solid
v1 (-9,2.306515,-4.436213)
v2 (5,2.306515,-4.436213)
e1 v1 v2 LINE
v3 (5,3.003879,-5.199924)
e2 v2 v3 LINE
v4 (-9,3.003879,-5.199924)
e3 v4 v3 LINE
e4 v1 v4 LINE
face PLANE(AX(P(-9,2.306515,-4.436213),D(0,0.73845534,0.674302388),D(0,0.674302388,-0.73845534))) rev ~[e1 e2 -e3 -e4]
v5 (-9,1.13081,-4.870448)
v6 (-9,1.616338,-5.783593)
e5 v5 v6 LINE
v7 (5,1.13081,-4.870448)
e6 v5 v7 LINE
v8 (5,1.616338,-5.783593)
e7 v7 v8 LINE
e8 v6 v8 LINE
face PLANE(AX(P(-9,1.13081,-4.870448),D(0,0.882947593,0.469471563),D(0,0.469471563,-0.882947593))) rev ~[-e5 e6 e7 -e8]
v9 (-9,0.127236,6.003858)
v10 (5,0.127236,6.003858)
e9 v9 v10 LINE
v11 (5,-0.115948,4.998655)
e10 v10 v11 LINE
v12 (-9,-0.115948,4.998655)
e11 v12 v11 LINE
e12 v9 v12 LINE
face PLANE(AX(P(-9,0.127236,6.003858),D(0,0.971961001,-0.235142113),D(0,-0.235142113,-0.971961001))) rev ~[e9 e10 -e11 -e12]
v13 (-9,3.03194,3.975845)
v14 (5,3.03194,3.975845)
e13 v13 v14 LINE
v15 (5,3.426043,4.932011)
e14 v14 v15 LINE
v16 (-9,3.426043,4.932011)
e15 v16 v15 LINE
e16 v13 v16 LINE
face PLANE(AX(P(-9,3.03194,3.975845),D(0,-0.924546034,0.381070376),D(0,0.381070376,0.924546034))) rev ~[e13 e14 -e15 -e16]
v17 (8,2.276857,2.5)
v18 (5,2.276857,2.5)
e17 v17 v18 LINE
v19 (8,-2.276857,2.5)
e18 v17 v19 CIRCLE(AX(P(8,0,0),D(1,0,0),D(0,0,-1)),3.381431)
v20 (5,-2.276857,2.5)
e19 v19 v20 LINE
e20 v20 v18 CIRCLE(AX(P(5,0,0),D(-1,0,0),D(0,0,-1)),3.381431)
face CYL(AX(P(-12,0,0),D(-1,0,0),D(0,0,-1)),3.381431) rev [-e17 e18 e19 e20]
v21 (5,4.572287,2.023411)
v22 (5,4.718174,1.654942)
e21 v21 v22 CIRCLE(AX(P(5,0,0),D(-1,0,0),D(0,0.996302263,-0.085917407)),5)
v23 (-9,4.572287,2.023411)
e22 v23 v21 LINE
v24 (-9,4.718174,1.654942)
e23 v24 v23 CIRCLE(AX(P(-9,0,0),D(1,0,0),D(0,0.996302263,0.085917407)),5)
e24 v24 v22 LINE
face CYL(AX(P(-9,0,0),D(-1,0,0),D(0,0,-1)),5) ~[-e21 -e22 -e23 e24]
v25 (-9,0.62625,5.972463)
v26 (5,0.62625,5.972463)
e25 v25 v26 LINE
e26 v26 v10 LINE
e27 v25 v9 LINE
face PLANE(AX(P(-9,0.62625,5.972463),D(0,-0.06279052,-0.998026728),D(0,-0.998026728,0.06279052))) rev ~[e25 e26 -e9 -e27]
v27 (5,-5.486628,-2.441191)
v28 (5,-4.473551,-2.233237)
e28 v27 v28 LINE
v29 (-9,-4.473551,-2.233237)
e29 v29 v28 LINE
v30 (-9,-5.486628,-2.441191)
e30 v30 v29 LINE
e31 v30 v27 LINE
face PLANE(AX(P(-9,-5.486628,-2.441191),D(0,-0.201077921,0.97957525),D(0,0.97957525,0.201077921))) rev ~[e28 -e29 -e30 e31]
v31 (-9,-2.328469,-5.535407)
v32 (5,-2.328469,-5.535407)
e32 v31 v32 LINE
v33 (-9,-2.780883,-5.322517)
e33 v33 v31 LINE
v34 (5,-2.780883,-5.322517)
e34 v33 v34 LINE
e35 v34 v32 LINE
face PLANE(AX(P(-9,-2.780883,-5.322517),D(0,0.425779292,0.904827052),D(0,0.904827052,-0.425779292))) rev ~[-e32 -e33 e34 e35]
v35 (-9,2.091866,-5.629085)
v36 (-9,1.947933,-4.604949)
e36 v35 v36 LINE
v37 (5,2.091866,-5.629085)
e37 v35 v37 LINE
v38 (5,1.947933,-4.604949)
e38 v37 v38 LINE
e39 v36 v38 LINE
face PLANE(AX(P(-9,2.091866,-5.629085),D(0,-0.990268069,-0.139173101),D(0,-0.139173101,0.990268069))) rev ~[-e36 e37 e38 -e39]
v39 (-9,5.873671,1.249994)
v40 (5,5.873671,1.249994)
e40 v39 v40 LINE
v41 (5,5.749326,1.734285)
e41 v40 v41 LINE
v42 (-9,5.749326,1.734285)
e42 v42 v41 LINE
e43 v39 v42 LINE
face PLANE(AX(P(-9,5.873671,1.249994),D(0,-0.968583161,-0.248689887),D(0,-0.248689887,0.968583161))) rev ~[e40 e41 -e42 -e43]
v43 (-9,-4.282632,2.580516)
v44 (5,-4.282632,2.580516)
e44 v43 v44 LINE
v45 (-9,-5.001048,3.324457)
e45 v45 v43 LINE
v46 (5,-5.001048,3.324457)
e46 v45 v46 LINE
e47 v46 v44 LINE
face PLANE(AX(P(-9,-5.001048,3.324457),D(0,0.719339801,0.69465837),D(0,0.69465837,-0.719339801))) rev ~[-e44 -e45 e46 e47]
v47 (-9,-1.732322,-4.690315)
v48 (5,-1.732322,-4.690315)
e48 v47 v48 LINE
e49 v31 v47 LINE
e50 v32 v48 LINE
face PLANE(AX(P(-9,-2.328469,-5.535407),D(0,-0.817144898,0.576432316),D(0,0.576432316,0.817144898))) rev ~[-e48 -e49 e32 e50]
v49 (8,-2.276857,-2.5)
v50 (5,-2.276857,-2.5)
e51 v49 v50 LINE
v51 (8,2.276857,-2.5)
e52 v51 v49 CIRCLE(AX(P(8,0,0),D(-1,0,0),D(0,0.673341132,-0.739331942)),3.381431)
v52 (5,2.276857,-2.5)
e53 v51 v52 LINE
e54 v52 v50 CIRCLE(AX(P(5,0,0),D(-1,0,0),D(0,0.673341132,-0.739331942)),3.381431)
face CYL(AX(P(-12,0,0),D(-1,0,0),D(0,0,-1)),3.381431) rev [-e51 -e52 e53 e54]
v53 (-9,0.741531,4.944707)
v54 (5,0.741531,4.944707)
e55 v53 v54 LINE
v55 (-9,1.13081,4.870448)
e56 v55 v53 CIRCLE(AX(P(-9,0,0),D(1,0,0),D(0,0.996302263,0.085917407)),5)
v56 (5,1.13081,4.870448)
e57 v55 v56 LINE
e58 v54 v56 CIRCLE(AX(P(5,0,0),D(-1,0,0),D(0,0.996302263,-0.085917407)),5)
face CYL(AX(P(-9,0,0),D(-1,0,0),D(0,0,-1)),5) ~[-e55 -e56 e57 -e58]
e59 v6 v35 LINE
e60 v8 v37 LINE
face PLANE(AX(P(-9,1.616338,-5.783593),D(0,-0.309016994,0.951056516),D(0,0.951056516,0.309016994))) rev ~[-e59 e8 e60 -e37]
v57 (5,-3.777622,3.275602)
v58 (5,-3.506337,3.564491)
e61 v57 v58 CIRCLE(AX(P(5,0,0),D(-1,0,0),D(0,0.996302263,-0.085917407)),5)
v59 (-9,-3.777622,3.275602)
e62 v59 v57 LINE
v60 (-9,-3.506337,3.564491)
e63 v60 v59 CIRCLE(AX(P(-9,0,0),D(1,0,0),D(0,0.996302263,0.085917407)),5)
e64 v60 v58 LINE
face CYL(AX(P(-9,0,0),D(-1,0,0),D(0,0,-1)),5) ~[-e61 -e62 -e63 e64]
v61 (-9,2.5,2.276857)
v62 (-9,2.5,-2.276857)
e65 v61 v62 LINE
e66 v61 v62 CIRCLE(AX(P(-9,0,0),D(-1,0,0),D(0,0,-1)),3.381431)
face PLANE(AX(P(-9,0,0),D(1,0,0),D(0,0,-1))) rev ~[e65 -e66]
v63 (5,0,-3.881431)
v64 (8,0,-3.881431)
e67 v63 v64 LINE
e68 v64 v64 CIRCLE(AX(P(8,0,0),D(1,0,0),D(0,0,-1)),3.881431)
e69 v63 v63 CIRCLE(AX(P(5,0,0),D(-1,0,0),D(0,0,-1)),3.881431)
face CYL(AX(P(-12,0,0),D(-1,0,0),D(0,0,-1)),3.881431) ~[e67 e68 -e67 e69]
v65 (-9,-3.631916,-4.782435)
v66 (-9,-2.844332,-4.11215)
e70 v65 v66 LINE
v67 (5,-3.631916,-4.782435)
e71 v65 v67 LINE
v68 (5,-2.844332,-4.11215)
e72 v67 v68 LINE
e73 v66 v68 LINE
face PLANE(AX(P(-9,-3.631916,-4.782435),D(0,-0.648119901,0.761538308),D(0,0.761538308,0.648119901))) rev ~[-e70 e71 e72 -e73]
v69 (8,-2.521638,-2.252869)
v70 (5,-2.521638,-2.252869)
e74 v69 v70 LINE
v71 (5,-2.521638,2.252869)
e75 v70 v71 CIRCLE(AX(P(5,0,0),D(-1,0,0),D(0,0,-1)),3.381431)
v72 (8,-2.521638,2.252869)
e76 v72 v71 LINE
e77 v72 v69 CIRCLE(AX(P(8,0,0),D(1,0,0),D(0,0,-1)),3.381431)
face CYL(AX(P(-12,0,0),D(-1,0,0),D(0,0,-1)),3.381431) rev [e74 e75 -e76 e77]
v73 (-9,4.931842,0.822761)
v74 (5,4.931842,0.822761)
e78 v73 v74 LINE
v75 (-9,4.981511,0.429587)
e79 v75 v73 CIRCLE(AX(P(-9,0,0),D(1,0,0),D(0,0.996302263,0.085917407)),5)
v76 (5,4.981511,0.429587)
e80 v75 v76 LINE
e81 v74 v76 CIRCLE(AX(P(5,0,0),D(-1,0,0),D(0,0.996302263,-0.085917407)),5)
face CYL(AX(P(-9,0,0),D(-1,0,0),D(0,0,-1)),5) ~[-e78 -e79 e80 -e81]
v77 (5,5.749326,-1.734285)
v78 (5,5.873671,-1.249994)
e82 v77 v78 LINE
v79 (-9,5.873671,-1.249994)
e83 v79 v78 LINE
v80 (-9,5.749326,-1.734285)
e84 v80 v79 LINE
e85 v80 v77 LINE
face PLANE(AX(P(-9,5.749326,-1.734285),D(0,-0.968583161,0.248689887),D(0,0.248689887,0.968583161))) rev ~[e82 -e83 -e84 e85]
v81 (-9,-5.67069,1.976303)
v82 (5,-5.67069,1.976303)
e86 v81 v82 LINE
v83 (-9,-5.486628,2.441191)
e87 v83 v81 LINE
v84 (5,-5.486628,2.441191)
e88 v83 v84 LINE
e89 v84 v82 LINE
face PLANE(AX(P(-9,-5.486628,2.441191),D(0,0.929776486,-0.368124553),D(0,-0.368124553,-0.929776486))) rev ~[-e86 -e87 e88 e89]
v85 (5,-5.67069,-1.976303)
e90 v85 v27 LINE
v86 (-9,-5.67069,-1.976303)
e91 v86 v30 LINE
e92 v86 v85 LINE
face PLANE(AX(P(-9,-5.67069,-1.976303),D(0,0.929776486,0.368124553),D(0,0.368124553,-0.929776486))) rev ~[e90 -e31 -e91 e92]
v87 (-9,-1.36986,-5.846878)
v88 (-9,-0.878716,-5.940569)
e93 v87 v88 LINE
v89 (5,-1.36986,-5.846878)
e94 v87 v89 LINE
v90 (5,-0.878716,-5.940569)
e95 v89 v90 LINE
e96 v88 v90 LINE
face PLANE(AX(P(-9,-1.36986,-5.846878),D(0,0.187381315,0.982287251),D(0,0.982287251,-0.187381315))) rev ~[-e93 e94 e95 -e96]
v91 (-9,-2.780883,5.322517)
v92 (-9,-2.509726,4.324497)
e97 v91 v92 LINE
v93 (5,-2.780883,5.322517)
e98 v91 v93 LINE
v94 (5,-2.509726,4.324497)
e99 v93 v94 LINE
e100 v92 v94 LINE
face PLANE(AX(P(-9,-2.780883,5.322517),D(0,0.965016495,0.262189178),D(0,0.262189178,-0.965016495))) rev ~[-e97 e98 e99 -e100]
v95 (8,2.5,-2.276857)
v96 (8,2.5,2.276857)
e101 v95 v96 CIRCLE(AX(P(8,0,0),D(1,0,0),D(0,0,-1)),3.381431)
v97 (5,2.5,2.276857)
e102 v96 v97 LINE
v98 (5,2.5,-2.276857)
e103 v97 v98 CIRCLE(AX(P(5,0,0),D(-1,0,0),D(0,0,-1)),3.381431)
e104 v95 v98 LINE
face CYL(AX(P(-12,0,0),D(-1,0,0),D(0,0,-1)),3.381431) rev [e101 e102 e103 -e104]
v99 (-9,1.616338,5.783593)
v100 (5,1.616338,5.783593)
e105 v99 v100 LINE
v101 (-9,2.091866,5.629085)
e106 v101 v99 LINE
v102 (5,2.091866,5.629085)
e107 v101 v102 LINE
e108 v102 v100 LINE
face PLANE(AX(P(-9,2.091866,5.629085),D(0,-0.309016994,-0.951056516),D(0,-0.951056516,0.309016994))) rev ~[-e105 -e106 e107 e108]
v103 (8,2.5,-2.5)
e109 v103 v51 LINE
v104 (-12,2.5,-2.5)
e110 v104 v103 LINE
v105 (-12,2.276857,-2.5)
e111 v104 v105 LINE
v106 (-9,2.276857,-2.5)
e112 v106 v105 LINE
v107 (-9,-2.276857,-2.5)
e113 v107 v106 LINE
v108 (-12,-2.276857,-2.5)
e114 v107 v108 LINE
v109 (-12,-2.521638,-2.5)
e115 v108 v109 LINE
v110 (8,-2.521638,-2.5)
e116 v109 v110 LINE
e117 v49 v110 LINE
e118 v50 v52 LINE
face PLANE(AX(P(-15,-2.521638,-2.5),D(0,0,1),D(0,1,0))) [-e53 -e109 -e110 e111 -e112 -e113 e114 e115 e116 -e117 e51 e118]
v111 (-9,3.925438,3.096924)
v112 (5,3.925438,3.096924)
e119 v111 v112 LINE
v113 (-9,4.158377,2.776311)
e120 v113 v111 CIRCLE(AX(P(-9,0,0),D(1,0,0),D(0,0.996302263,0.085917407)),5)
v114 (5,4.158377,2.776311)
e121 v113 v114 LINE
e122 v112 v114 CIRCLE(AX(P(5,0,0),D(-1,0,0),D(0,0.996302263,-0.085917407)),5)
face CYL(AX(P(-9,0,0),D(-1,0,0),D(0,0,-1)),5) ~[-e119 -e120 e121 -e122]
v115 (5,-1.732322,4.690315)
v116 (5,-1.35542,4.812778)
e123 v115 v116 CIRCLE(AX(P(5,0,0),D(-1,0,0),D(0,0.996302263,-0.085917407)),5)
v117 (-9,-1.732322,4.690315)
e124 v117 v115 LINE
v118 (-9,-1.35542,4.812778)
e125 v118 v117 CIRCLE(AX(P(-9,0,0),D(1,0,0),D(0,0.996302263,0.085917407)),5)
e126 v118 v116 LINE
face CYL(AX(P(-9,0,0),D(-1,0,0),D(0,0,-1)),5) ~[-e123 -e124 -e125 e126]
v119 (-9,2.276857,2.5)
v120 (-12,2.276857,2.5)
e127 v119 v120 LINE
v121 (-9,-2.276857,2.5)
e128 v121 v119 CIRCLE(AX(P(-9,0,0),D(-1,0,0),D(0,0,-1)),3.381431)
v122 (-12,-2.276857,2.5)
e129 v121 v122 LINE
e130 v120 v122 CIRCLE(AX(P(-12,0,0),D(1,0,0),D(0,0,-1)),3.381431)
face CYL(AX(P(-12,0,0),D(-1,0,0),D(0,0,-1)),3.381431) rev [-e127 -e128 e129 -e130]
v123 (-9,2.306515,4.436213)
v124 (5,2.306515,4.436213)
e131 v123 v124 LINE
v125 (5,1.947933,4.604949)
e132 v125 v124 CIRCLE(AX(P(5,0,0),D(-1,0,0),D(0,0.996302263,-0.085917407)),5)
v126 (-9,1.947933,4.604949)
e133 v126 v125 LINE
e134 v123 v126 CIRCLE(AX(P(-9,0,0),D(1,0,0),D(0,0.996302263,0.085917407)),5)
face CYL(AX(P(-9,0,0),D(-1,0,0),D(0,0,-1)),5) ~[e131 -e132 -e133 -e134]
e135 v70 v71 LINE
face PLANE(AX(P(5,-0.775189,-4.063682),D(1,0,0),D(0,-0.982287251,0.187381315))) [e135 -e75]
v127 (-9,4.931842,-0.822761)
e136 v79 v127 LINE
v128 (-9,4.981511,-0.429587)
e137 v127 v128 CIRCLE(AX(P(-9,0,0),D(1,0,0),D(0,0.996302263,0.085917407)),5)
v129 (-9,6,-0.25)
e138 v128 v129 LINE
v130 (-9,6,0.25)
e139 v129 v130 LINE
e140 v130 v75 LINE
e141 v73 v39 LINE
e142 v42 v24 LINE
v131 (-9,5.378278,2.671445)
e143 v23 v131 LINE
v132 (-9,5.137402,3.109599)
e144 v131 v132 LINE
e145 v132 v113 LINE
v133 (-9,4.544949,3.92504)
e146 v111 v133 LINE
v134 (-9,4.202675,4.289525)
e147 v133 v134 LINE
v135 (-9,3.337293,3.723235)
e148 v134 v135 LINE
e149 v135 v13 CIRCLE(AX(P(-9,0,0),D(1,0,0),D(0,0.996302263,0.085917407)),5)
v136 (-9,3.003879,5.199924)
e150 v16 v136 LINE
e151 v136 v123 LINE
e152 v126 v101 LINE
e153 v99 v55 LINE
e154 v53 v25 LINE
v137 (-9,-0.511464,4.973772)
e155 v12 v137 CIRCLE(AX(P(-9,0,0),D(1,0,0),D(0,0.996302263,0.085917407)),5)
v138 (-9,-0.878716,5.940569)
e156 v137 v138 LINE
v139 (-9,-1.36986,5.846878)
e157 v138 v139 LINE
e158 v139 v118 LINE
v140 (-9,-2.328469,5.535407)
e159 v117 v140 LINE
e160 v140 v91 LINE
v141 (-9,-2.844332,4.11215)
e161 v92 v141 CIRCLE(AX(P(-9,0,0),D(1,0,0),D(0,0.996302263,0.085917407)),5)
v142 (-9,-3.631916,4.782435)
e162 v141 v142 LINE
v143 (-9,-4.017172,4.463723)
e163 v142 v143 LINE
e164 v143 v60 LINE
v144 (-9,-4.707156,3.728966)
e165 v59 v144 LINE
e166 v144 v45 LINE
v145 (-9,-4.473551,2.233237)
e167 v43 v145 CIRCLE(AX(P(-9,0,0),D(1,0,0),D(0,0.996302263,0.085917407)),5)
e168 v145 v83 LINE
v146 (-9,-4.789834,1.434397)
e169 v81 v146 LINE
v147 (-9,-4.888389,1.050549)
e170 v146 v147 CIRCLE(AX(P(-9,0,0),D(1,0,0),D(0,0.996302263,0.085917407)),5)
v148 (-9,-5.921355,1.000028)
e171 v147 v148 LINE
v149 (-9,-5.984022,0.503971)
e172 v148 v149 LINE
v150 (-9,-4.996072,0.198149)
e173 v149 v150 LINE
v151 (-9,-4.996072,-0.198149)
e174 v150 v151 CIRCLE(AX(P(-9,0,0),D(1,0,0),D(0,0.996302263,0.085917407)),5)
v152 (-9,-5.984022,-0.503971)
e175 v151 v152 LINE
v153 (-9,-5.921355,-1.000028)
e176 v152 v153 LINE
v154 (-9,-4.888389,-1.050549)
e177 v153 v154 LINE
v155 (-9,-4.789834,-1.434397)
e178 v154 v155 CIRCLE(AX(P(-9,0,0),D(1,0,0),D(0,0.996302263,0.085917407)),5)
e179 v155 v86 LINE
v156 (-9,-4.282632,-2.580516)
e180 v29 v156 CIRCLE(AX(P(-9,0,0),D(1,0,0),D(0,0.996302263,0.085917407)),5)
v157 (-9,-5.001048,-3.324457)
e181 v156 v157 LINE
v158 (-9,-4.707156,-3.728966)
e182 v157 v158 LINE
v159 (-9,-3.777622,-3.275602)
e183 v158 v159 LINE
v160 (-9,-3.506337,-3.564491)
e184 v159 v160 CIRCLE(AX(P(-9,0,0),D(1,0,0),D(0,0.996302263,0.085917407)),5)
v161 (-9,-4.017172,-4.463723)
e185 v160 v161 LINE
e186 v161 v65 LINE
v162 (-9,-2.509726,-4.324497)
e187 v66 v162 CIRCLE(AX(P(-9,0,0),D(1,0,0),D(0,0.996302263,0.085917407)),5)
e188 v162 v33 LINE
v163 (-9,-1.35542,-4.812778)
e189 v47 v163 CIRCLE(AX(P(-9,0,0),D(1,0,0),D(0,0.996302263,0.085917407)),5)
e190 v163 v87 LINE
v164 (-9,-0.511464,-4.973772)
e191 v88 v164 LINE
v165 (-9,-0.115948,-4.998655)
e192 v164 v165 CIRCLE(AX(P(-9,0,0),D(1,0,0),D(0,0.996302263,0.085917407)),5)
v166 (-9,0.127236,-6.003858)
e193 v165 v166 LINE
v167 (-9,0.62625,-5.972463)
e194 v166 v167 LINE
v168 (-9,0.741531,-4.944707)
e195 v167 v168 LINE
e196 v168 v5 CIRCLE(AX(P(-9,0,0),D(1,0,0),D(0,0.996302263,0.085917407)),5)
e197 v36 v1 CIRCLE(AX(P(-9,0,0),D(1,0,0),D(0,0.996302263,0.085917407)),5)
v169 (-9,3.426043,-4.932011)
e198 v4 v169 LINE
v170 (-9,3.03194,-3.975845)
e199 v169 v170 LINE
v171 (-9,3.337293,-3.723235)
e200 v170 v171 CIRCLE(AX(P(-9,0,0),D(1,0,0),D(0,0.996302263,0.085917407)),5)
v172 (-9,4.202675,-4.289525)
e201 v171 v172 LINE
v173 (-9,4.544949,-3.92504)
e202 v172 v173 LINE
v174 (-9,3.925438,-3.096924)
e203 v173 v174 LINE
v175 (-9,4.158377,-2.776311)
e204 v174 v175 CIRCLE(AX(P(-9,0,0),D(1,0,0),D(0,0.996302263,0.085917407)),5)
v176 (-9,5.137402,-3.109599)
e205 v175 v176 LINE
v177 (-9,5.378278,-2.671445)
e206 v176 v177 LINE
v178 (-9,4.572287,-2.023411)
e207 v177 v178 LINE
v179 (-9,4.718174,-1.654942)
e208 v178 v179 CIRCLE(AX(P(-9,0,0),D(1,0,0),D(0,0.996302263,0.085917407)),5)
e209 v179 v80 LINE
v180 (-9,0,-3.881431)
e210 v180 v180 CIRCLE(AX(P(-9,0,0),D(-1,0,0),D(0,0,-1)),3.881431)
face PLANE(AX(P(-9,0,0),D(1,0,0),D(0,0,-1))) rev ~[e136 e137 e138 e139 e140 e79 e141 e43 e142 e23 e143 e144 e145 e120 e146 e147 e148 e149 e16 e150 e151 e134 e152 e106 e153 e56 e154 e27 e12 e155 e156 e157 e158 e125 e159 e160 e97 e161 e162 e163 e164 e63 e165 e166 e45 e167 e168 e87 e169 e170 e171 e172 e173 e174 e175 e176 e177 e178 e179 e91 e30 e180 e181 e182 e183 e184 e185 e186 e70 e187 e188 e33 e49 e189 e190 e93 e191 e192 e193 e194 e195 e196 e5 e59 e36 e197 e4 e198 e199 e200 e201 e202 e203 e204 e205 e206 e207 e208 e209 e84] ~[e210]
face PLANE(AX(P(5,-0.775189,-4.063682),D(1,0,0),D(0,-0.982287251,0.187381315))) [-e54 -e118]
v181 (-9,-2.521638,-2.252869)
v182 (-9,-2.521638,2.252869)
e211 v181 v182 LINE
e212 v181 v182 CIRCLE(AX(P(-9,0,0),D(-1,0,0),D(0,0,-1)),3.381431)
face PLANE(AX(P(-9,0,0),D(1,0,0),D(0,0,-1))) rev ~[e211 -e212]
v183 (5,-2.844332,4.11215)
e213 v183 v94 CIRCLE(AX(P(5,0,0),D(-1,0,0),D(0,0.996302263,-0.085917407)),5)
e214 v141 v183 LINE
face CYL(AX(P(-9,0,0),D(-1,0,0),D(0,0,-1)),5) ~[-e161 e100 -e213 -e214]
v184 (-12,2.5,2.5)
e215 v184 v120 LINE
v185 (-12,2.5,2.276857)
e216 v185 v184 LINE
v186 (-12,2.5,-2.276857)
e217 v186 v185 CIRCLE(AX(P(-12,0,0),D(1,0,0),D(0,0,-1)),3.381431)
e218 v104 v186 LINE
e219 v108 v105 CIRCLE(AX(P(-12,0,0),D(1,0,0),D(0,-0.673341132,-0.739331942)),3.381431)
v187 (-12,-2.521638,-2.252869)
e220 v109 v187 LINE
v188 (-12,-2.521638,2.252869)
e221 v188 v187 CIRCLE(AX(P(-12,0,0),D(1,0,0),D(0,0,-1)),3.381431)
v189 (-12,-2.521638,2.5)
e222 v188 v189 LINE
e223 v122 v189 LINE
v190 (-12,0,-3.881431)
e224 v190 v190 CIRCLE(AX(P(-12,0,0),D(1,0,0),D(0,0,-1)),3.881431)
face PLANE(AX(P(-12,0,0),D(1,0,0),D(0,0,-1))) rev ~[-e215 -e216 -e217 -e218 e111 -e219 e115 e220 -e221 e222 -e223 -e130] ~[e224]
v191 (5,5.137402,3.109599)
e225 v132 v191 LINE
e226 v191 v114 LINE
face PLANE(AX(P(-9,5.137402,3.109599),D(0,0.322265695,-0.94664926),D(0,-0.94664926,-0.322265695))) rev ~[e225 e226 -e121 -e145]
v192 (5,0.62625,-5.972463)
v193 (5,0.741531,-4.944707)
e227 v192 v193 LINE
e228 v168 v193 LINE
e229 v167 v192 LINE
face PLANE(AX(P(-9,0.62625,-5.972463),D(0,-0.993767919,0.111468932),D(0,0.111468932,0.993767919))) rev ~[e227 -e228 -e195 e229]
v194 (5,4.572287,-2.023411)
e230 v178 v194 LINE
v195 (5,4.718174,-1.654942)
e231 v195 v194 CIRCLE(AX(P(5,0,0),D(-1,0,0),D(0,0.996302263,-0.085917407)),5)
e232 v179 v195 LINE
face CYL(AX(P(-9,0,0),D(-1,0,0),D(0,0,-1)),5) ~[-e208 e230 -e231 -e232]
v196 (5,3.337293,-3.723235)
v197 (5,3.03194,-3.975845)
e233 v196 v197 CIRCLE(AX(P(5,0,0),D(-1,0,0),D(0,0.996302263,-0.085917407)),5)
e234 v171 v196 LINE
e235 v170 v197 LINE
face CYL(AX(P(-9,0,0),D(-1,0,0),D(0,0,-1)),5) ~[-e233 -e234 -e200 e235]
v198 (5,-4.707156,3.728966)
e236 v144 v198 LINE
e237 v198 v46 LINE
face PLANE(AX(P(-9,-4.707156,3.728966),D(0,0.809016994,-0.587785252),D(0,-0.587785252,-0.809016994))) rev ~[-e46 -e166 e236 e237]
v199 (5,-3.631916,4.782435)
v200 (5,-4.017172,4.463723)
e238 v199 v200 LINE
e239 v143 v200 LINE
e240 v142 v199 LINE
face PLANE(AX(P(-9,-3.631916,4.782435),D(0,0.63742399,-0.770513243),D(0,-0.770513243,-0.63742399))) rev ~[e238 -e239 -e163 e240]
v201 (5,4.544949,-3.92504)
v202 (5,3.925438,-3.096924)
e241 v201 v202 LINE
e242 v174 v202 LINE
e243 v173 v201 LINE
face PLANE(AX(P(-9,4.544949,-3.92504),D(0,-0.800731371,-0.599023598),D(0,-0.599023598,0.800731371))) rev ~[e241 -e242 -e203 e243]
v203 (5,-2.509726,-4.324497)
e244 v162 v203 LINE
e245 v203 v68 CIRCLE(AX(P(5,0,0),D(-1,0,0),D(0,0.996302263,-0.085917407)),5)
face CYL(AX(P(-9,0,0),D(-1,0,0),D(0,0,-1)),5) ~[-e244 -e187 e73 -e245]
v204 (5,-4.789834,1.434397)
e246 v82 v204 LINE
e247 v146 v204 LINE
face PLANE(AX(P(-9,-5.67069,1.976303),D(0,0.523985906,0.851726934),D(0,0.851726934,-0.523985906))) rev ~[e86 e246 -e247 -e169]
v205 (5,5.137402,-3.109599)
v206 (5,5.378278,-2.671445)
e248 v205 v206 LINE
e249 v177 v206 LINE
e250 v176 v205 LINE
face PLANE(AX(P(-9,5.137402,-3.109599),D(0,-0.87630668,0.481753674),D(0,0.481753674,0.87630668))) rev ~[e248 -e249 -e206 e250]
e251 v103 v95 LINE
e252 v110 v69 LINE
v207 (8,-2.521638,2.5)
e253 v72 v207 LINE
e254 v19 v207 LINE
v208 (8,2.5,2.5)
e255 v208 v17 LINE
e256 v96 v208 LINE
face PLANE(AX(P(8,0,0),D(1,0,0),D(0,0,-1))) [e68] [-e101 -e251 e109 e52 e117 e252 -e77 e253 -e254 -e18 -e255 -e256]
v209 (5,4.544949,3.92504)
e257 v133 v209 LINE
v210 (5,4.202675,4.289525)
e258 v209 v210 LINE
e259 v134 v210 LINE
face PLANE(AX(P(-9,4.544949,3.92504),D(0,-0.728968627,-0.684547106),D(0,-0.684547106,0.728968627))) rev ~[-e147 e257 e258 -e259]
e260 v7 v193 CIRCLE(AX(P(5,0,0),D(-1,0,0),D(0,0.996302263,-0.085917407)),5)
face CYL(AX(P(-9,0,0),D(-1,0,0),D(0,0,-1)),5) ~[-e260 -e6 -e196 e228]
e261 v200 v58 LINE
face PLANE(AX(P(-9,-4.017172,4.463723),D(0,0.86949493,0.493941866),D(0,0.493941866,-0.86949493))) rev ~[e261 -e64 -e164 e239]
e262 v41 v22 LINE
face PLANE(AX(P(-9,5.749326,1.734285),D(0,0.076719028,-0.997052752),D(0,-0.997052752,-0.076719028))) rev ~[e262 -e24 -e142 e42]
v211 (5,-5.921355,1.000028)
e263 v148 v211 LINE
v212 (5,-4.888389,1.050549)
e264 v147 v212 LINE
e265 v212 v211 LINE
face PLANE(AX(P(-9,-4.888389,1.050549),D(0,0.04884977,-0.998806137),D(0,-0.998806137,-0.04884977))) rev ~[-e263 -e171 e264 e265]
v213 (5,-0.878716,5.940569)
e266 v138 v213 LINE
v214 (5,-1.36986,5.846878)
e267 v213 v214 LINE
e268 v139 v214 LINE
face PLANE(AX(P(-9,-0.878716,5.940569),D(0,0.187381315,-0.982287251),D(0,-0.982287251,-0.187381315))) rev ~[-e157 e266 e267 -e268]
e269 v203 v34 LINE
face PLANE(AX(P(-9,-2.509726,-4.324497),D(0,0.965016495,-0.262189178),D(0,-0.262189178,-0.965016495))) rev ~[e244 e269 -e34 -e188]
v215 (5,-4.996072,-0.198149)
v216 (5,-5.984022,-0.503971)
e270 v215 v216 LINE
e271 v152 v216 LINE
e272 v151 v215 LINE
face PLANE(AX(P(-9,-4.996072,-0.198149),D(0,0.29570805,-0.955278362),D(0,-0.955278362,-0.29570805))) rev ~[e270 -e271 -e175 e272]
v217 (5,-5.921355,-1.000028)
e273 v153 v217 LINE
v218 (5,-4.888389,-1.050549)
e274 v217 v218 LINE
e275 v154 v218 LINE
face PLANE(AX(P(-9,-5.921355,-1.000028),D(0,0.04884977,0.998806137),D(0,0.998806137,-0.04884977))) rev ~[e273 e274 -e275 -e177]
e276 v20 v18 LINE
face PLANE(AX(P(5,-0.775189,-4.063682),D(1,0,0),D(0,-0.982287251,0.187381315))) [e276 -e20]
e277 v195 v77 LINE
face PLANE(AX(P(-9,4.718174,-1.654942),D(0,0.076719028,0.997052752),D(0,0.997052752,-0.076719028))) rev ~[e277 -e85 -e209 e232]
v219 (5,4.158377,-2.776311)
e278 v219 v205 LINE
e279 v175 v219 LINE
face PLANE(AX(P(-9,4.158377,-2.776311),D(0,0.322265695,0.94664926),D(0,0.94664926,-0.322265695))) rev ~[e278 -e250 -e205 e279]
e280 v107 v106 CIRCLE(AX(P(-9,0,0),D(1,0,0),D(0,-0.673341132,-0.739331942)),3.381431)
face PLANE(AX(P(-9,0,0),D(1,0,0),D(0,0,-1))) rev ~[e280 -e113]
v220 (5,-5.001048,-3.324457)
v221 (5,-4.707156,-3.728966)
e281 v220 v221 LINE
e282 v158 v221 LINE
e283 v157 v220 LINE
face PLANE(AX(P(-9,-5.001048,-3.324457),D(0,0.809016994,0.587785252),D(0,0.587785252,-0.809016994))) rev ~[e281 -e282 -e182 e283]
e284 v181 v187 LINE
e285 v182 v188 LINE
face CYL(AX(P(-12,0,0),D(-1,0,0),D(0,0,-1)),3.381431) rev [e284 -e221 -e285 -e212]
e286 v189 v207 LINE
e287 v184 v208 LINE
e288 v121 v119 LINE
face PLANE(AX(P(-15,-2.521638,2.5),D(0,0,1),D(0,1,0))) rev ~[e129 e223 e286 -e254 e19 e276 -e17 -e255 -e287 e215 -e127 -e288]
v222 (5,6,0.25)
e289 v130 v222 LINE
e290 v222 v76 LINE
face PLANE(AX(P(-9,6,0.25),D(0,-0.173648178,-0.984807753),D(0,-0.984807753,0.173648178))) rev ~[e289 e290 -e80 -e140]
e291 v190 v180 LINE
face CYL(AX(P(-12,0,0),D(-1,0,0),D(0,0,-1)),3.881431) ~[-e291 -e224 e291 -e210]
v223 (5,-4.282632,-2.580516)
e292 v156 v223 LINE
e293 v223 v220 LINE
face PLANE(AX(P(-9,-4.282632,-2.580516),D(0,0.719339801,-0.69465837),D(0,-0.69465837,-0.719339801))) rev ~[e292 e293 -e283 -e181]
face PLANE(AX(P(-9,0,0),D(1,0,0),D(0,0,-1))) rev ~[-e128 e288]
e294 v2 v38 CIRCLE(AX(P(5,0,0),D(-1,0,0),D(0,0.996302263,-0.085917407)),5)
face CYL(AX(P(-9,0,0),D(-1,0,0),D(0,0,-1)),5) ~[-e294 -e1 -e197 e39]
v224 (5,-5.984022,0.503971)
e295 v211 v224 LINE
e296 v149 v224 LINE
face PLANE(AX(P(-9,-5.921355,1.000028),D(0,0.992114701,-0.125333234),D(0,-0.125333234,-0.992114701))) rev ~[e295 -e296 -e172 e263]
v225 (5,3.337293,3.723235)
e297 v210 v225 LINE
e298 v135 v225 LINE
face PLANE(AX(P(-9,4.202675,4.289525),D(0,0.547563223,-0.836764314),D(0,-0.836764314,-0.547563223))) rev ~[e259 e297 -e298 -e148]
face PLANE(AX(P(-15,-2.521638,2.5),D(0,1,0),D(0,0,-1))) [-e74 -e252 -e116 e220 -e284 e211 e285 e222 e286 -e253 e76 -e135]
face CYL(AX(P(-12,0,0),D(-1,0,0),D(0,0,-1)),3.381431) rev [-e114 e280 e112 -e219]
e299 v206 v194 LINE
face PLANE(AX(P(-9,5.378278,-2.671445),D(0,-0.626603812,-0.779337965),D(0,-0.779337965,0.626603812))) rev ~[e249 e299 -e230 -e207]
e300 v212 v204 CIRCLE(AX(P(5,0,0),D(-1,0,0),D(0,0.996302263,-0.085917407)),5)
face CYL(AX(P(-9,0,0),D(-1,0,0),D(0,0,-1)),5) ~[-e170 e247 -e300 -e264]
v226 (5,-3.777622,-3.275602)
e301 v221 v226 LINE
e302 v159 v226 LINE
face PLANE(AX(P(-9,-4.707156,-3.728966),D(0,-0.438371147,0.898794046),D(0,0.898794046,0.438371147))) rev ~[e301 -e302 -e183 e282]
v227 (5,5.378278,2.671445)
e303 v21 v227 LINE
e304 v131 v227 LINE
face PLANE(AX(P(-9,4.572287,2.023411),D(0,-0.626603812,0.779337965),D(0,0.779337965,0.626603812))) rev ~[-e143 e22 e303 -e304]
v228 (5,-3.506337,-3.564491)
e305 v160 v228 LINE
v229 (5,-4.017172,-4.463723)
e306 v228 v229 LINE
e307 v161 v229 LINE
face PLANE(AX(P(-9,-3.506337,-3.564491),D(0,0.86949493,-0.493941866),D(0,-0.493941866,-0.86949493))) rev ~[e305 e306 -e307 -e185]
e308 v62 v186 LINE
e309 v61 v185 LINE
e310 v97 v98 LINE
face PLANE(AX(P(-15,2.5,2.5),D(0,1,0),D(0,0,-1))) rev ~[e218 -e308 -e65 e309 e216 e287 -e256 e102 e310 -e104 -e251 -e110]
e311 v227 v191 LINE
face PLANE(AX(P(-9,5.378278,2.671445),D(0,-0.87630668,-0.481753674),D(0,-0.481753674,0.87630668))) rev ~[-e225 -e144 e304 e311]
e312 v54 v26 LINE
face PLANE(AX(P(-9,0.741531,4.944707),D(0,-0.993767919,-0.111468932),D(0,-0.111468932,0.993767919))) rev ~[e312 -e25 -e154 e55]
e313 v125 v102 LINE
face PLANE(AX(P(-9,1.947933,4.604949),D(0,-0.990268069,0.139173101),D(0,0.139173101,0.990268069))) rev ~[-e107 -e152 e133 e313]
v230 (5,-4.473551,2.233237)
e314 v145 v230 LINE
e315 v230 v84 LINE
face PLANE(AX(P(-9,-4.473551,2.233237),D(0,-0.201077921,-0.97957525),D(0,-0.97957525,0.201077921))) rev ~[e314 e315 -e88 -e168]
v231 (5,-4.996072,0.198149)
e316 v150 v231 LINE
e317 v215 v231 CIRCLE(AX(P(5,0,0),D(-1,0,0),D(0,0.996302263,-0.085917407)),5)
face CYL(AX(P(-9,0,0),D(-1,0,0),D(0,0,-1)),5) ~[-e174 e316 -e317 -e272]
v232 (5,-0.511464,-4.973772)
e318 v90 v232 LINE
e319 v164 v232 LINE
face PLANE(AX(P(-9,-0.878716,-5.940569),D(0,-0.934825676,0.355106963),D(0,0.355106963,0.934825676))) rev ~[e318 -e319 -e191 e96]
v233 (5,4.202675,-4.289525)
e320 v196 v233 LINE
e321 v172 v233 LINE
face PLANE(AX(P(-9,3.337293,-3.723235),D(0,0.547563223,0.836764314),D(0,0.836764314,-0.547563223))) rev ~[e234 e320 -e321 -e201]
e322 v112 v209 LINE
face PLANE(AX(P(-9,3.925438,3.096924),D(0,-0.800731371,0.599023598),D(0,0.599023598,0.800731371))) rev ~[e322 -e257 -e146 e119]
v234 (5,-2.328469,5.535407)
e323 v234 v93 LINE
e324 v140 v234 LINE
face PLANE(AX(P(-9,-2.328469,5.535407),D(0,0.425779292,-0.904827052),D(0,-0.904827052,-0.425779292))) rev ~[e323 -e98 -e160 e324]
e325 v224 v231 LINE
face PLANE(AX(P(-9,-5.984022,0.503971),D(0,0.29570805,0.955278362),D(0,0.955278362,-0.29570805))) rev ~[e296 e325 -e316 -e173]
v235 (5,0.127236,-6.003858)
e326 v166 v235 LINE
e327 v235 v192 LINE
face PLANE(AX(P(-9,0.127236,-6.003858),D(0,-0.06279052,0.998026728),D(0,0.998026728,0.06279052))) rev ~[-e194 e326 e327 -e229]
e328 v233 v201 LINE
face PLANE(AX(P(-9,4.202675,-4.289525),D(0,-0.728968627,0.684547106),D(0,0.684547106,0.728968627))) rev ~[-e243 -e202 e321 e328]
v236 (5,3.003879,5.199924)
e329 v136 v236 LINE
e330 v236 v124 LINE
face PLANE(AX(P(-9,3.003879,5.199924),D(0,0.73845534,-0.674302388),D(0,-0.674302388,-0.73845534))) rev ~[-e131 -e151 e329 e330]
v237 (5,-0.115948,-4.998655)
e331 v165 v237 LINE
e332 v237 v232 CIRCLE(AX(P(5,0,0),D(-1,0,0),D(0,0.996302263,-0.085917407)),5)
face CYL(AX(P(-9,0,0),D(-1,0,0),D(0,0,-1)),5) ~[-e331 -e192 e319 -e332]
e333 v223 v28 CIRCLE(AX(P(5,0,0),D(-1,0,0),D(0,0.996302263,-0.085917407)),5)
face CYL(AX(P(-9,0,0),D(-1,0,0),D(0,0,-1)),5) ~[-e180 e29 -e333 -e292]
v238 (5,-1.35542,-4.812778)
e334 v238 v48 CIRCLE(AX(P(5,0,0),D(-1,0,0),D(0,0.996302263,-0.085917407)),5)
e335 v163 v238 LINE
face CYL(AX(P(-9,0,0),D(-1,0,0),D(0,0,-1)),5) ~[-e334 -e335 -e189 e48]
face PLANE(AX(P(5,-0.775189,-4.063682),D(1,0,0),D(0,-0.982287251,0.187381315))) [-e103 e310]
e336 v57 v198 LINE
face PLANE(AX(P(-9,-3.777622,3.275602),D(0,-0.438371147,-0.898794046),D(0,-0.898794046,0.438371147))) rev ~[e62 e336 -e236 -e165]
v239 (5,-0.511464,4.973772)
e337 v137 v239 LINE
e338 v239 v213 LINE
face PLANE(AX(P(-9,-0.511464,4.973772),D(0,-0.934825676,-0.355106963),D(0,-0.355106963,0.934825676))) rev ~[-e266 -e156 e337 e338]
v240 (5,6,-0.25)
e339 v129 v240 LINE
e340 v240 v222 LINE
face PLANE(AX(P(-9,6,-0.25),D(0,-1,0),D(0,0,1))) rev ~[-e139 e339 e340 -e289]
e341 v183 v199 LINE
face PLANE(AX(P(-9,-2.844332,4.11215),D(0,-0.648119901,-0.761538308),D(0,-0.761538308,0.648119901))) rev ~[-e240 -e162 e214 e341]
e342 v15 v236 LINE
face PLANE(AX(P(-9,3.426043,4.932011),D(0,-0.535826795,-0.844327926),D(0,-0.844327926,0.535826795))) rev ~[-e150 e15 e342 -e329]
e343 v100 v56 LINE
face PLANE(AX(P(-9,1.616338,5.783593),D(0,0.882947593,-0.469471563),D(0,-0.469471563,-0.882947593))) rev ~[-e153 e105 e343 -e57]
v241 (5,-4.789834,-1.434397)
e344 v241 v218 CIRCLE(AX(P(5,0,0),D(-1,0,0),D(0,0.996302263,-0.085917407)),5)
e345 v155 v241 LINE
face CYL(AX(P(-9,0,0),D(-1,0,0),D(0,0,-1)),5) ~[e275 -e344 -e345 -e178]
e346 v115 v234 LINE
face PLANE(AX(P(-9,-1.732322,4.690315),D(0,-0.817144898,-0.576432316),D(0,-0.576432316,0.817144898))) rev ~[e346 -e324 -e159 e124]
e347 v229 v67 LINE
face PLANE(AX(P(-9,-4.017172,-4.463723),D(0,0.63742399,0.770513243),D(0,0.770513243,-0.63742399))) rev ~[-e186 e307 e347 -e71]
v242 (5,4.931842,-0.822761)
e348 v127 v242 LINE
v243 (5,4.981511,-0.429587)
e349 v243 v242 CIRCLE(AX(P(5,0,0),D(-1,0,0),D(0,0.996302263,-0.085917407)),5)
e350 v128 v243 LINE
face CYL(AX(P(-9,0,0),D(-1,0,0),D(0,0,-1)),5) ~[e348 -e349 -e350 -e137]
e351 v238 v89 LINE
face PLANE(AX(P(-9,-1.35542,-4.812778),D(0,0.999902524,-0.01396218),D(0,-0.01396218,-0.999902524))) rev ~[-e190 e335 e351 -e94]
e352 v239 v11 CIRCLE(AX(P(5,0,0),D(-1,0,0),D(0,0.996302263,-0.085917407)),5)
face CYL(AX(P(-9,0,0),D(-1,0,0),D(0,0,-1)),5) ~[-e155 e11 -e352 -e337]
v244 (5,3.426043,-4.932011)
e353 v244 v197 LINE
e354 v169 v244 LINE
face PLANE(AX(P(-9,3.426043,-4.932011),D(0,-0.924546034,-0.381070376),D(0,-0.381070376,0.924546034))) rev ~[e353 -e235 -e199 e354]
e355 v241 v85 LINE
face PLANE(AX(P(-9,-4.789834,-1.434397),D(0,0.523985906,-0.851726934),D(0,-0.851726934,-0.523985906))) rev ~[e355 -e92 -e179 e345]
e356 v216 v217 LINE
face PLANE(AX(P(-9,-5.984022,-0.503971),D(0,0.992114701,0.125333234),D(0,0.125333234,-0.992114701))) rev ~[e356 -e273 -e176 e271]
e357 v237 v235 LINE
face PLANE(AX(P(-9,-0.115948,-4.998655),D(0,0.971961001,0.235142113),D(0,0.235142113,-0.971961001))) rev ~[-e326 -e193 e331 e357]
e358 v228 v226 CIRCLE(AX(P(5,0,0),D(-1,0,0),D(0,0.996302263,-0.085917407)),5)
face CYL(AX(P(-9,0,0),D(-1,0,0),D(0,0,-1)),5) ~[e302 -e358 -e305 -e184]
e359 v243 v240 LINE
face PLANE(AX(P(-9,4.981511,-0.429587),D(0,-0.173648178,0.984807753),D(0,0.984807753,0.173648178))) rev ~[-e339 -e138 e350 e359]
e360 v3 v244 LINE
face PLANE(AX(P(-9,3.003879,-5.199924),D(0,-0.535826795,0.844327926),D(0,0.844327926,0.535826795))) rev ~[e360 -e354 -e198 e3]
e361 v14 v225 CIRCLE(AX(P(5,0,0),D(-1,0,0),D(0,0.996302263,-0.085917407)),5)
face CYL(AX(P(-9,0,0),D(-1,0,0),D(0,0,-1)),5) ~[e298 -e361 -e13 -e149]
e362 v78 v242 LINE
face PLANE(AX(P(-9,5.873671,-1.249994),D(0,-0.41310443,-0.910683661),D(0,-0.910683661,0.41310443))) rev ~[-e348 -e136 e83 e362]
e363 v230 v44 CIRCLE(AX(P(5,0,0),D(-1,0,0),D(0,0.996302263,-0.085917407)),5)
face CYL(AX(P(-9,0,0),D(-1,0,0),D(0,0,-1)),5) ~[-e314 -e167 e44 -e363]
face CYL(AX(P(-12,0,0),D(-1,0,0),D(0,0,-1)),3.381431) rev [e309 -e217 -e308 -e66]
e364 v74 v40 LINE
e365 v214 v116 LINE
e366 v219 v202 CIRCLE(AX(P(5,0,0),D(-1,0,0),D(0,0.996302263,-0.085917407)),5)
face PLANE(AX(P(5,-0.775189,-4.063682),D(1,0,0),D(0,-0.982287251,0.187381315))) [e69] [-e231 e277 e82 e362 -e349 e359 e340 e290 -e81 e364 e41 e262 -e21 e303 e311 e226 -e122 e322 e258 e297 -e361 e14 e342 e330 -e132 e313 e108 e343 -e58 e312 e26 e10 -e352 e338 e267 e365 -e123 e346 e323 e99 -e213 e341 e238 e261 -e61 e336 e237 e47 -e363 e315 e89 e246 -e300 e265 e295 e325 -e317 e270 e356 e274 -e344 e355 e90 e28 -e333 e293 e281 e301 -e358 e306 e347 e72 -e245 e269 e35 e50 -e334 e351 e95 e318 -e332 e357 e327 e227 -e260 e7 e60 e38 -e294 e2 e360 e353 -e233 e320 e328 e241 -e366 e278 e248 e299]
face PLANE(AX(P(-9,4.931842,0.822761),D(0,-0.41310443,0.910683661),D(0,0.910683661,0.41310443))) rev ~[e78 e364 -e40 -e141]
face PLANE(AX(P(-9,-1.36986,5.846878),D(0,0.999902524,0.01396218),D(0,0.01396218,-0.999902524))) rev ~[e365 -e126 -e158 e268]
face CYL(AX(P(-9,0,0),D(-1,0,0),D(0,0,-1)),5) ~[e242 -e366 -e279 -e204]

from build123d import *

# Parameters (mm, degrees)
BOSS_EXTRUDE2_START      = -9
BOSS_EXTRUDE2_DEPTH      = 14
BOSS_EXTRUDE3_DEPTH      = 5
BOSS_EXTRUDE3_DEPTH_BACK = 9
SKETCH3_R                = 5
CIRPATTERN1_COUNT        = 25
SKETCH4_W                = 5
SKETCH4_H                = 5
CUT_EXTRUDE1_DEPTH       = 18
BOSS_EXTRUDE4_DEPTH      = 3
BOSS_EXTRUDE4_DEPTH_BACK = 17
SKETCH6_R                = 3.881431072
SKETCH6_R_2              = 3.381431072
CUT_EXTRUDE2_DEPTH       = 10
CUT_EXTRUDE2_DEPTH_BACK  = 20
SKETCH7_W                = 5
SKETCH7_H                = 5.021637953


with BuildPart() as part:
    # Sketch2 → Boss-Extrude2 (new body)
    with BuildSketch(Plane(origin=(0, 0, 0), x_dir=(0, 0, -1), z_dir=(1, 0, 0)).offset(BOSS_EXTRUDE2_START)):
        with BuildLine():
            ThreePointArc((0.429587035, 4.981511315), (0, 5), (-0.429587035, 4.981511315))
            Line((-0.429587035, 4.981511315), (-0.700772987, 3.443539352))
            Line((-0.700772987, 3.443539352), (0.700772987, 3.443539352))
            Line((0.700772987, 3.443539352), (0.429587035, 4.981511315))
        make_face()
        with BuildLine():
            Line((0.25, 6), (-0.25, 6))
            Line((-0.25, 6), (-0.429587035, 4.981511315))
            ThreePointArc((-0.429587035, 4.981511315), (0, 5), (0.429587035, 4.981511315))
            Line((0.429587035, 4.981511315), (0.25, 6))
        make_face()
    boss_extrude2 = extrude(amount=BOSS_EXTRUDE2_DEPTH)

    # Sketch3 → Boss-Extrude3 (add, two sides: drawn at the far end of the back side and taken through both)
    with BuildSketch(Plane(origin=(0, 0, 0), x_dir=(0, 0, -1), z_dir=(1, 0, 0)).offset(-BOSS_EXTRUDE3_DEPTH_BACK)):
        Circle(SKETCH3_R)
    extrude(amount=BOSS_EXTRUDE3_DEPTH + BOSS_EXTRUDE3_DEPTH_BACK)

    # CirPattern1: Boss-Extrude2 ×25 about axis
    cirpattern1_axis = Axis((0, 0, 0), (1, 0, 0))
    for i in range(1, CIRPATTERN1_COUNT):
        add(boss_extrude2.rotate(cirpattern1_axis, i * 360 / CIRPATTERN1_COUNT))

    # Sketch4 → Cut-Extrude1 (cut)
    with BuildSketch(Plane(origin=(5, 0, 0), x_dir=(0, 0, -1), z_dir=(1, 0, 0))):
        Rectangle(SKETCH4_W, SKETCH4_H)
    extrude(amount=-CUT_EXTRUDE1_DEPTH, mode=Mode.SUBTRACT)

    # Sketch6 → Boss-Extrude4 (add, two sides: drawn at the far end of the back side and taken through both)
    with BuildSketch(Plane(origin=(5, 0, 0), x_dir=(0, 0, -1), z_dir=(1, 0, 0)).offset(-BOSS_EXTRUDE4_DEPTH_BACK)):
        Circle(SKETCH6_R)
        Circle(SKETCH6_R_2, mode=Mode.SUBTRACT)
    extrude(amount=BOSS_EXTRUDE4_DEPTH + BOSS_EXTRUDE4_DEPTH_BACK)

    # Sketch7 → Cut-Extrude2 (cut, two sides: drawn at the far end of the back side and taken through both)
    with BuildSketch(Plane(origin=(5, 0, 0), x_dir=(0, 0, -1), z_dir=(1, 0, 0)).offset(-CUT_EXTRUDE2_DEPTH_BACK)):
        with Locations((0, -0.010818977)):
            Rectangle(SKETCH7_W, SKETCH7_H)
    extrude(amount=CUT_EXTRUDE2_DEPTH + CUT_EXTRUDE2_DEPTH_BACK, mode=Mode.SUBTRACT)


solid = part.part
